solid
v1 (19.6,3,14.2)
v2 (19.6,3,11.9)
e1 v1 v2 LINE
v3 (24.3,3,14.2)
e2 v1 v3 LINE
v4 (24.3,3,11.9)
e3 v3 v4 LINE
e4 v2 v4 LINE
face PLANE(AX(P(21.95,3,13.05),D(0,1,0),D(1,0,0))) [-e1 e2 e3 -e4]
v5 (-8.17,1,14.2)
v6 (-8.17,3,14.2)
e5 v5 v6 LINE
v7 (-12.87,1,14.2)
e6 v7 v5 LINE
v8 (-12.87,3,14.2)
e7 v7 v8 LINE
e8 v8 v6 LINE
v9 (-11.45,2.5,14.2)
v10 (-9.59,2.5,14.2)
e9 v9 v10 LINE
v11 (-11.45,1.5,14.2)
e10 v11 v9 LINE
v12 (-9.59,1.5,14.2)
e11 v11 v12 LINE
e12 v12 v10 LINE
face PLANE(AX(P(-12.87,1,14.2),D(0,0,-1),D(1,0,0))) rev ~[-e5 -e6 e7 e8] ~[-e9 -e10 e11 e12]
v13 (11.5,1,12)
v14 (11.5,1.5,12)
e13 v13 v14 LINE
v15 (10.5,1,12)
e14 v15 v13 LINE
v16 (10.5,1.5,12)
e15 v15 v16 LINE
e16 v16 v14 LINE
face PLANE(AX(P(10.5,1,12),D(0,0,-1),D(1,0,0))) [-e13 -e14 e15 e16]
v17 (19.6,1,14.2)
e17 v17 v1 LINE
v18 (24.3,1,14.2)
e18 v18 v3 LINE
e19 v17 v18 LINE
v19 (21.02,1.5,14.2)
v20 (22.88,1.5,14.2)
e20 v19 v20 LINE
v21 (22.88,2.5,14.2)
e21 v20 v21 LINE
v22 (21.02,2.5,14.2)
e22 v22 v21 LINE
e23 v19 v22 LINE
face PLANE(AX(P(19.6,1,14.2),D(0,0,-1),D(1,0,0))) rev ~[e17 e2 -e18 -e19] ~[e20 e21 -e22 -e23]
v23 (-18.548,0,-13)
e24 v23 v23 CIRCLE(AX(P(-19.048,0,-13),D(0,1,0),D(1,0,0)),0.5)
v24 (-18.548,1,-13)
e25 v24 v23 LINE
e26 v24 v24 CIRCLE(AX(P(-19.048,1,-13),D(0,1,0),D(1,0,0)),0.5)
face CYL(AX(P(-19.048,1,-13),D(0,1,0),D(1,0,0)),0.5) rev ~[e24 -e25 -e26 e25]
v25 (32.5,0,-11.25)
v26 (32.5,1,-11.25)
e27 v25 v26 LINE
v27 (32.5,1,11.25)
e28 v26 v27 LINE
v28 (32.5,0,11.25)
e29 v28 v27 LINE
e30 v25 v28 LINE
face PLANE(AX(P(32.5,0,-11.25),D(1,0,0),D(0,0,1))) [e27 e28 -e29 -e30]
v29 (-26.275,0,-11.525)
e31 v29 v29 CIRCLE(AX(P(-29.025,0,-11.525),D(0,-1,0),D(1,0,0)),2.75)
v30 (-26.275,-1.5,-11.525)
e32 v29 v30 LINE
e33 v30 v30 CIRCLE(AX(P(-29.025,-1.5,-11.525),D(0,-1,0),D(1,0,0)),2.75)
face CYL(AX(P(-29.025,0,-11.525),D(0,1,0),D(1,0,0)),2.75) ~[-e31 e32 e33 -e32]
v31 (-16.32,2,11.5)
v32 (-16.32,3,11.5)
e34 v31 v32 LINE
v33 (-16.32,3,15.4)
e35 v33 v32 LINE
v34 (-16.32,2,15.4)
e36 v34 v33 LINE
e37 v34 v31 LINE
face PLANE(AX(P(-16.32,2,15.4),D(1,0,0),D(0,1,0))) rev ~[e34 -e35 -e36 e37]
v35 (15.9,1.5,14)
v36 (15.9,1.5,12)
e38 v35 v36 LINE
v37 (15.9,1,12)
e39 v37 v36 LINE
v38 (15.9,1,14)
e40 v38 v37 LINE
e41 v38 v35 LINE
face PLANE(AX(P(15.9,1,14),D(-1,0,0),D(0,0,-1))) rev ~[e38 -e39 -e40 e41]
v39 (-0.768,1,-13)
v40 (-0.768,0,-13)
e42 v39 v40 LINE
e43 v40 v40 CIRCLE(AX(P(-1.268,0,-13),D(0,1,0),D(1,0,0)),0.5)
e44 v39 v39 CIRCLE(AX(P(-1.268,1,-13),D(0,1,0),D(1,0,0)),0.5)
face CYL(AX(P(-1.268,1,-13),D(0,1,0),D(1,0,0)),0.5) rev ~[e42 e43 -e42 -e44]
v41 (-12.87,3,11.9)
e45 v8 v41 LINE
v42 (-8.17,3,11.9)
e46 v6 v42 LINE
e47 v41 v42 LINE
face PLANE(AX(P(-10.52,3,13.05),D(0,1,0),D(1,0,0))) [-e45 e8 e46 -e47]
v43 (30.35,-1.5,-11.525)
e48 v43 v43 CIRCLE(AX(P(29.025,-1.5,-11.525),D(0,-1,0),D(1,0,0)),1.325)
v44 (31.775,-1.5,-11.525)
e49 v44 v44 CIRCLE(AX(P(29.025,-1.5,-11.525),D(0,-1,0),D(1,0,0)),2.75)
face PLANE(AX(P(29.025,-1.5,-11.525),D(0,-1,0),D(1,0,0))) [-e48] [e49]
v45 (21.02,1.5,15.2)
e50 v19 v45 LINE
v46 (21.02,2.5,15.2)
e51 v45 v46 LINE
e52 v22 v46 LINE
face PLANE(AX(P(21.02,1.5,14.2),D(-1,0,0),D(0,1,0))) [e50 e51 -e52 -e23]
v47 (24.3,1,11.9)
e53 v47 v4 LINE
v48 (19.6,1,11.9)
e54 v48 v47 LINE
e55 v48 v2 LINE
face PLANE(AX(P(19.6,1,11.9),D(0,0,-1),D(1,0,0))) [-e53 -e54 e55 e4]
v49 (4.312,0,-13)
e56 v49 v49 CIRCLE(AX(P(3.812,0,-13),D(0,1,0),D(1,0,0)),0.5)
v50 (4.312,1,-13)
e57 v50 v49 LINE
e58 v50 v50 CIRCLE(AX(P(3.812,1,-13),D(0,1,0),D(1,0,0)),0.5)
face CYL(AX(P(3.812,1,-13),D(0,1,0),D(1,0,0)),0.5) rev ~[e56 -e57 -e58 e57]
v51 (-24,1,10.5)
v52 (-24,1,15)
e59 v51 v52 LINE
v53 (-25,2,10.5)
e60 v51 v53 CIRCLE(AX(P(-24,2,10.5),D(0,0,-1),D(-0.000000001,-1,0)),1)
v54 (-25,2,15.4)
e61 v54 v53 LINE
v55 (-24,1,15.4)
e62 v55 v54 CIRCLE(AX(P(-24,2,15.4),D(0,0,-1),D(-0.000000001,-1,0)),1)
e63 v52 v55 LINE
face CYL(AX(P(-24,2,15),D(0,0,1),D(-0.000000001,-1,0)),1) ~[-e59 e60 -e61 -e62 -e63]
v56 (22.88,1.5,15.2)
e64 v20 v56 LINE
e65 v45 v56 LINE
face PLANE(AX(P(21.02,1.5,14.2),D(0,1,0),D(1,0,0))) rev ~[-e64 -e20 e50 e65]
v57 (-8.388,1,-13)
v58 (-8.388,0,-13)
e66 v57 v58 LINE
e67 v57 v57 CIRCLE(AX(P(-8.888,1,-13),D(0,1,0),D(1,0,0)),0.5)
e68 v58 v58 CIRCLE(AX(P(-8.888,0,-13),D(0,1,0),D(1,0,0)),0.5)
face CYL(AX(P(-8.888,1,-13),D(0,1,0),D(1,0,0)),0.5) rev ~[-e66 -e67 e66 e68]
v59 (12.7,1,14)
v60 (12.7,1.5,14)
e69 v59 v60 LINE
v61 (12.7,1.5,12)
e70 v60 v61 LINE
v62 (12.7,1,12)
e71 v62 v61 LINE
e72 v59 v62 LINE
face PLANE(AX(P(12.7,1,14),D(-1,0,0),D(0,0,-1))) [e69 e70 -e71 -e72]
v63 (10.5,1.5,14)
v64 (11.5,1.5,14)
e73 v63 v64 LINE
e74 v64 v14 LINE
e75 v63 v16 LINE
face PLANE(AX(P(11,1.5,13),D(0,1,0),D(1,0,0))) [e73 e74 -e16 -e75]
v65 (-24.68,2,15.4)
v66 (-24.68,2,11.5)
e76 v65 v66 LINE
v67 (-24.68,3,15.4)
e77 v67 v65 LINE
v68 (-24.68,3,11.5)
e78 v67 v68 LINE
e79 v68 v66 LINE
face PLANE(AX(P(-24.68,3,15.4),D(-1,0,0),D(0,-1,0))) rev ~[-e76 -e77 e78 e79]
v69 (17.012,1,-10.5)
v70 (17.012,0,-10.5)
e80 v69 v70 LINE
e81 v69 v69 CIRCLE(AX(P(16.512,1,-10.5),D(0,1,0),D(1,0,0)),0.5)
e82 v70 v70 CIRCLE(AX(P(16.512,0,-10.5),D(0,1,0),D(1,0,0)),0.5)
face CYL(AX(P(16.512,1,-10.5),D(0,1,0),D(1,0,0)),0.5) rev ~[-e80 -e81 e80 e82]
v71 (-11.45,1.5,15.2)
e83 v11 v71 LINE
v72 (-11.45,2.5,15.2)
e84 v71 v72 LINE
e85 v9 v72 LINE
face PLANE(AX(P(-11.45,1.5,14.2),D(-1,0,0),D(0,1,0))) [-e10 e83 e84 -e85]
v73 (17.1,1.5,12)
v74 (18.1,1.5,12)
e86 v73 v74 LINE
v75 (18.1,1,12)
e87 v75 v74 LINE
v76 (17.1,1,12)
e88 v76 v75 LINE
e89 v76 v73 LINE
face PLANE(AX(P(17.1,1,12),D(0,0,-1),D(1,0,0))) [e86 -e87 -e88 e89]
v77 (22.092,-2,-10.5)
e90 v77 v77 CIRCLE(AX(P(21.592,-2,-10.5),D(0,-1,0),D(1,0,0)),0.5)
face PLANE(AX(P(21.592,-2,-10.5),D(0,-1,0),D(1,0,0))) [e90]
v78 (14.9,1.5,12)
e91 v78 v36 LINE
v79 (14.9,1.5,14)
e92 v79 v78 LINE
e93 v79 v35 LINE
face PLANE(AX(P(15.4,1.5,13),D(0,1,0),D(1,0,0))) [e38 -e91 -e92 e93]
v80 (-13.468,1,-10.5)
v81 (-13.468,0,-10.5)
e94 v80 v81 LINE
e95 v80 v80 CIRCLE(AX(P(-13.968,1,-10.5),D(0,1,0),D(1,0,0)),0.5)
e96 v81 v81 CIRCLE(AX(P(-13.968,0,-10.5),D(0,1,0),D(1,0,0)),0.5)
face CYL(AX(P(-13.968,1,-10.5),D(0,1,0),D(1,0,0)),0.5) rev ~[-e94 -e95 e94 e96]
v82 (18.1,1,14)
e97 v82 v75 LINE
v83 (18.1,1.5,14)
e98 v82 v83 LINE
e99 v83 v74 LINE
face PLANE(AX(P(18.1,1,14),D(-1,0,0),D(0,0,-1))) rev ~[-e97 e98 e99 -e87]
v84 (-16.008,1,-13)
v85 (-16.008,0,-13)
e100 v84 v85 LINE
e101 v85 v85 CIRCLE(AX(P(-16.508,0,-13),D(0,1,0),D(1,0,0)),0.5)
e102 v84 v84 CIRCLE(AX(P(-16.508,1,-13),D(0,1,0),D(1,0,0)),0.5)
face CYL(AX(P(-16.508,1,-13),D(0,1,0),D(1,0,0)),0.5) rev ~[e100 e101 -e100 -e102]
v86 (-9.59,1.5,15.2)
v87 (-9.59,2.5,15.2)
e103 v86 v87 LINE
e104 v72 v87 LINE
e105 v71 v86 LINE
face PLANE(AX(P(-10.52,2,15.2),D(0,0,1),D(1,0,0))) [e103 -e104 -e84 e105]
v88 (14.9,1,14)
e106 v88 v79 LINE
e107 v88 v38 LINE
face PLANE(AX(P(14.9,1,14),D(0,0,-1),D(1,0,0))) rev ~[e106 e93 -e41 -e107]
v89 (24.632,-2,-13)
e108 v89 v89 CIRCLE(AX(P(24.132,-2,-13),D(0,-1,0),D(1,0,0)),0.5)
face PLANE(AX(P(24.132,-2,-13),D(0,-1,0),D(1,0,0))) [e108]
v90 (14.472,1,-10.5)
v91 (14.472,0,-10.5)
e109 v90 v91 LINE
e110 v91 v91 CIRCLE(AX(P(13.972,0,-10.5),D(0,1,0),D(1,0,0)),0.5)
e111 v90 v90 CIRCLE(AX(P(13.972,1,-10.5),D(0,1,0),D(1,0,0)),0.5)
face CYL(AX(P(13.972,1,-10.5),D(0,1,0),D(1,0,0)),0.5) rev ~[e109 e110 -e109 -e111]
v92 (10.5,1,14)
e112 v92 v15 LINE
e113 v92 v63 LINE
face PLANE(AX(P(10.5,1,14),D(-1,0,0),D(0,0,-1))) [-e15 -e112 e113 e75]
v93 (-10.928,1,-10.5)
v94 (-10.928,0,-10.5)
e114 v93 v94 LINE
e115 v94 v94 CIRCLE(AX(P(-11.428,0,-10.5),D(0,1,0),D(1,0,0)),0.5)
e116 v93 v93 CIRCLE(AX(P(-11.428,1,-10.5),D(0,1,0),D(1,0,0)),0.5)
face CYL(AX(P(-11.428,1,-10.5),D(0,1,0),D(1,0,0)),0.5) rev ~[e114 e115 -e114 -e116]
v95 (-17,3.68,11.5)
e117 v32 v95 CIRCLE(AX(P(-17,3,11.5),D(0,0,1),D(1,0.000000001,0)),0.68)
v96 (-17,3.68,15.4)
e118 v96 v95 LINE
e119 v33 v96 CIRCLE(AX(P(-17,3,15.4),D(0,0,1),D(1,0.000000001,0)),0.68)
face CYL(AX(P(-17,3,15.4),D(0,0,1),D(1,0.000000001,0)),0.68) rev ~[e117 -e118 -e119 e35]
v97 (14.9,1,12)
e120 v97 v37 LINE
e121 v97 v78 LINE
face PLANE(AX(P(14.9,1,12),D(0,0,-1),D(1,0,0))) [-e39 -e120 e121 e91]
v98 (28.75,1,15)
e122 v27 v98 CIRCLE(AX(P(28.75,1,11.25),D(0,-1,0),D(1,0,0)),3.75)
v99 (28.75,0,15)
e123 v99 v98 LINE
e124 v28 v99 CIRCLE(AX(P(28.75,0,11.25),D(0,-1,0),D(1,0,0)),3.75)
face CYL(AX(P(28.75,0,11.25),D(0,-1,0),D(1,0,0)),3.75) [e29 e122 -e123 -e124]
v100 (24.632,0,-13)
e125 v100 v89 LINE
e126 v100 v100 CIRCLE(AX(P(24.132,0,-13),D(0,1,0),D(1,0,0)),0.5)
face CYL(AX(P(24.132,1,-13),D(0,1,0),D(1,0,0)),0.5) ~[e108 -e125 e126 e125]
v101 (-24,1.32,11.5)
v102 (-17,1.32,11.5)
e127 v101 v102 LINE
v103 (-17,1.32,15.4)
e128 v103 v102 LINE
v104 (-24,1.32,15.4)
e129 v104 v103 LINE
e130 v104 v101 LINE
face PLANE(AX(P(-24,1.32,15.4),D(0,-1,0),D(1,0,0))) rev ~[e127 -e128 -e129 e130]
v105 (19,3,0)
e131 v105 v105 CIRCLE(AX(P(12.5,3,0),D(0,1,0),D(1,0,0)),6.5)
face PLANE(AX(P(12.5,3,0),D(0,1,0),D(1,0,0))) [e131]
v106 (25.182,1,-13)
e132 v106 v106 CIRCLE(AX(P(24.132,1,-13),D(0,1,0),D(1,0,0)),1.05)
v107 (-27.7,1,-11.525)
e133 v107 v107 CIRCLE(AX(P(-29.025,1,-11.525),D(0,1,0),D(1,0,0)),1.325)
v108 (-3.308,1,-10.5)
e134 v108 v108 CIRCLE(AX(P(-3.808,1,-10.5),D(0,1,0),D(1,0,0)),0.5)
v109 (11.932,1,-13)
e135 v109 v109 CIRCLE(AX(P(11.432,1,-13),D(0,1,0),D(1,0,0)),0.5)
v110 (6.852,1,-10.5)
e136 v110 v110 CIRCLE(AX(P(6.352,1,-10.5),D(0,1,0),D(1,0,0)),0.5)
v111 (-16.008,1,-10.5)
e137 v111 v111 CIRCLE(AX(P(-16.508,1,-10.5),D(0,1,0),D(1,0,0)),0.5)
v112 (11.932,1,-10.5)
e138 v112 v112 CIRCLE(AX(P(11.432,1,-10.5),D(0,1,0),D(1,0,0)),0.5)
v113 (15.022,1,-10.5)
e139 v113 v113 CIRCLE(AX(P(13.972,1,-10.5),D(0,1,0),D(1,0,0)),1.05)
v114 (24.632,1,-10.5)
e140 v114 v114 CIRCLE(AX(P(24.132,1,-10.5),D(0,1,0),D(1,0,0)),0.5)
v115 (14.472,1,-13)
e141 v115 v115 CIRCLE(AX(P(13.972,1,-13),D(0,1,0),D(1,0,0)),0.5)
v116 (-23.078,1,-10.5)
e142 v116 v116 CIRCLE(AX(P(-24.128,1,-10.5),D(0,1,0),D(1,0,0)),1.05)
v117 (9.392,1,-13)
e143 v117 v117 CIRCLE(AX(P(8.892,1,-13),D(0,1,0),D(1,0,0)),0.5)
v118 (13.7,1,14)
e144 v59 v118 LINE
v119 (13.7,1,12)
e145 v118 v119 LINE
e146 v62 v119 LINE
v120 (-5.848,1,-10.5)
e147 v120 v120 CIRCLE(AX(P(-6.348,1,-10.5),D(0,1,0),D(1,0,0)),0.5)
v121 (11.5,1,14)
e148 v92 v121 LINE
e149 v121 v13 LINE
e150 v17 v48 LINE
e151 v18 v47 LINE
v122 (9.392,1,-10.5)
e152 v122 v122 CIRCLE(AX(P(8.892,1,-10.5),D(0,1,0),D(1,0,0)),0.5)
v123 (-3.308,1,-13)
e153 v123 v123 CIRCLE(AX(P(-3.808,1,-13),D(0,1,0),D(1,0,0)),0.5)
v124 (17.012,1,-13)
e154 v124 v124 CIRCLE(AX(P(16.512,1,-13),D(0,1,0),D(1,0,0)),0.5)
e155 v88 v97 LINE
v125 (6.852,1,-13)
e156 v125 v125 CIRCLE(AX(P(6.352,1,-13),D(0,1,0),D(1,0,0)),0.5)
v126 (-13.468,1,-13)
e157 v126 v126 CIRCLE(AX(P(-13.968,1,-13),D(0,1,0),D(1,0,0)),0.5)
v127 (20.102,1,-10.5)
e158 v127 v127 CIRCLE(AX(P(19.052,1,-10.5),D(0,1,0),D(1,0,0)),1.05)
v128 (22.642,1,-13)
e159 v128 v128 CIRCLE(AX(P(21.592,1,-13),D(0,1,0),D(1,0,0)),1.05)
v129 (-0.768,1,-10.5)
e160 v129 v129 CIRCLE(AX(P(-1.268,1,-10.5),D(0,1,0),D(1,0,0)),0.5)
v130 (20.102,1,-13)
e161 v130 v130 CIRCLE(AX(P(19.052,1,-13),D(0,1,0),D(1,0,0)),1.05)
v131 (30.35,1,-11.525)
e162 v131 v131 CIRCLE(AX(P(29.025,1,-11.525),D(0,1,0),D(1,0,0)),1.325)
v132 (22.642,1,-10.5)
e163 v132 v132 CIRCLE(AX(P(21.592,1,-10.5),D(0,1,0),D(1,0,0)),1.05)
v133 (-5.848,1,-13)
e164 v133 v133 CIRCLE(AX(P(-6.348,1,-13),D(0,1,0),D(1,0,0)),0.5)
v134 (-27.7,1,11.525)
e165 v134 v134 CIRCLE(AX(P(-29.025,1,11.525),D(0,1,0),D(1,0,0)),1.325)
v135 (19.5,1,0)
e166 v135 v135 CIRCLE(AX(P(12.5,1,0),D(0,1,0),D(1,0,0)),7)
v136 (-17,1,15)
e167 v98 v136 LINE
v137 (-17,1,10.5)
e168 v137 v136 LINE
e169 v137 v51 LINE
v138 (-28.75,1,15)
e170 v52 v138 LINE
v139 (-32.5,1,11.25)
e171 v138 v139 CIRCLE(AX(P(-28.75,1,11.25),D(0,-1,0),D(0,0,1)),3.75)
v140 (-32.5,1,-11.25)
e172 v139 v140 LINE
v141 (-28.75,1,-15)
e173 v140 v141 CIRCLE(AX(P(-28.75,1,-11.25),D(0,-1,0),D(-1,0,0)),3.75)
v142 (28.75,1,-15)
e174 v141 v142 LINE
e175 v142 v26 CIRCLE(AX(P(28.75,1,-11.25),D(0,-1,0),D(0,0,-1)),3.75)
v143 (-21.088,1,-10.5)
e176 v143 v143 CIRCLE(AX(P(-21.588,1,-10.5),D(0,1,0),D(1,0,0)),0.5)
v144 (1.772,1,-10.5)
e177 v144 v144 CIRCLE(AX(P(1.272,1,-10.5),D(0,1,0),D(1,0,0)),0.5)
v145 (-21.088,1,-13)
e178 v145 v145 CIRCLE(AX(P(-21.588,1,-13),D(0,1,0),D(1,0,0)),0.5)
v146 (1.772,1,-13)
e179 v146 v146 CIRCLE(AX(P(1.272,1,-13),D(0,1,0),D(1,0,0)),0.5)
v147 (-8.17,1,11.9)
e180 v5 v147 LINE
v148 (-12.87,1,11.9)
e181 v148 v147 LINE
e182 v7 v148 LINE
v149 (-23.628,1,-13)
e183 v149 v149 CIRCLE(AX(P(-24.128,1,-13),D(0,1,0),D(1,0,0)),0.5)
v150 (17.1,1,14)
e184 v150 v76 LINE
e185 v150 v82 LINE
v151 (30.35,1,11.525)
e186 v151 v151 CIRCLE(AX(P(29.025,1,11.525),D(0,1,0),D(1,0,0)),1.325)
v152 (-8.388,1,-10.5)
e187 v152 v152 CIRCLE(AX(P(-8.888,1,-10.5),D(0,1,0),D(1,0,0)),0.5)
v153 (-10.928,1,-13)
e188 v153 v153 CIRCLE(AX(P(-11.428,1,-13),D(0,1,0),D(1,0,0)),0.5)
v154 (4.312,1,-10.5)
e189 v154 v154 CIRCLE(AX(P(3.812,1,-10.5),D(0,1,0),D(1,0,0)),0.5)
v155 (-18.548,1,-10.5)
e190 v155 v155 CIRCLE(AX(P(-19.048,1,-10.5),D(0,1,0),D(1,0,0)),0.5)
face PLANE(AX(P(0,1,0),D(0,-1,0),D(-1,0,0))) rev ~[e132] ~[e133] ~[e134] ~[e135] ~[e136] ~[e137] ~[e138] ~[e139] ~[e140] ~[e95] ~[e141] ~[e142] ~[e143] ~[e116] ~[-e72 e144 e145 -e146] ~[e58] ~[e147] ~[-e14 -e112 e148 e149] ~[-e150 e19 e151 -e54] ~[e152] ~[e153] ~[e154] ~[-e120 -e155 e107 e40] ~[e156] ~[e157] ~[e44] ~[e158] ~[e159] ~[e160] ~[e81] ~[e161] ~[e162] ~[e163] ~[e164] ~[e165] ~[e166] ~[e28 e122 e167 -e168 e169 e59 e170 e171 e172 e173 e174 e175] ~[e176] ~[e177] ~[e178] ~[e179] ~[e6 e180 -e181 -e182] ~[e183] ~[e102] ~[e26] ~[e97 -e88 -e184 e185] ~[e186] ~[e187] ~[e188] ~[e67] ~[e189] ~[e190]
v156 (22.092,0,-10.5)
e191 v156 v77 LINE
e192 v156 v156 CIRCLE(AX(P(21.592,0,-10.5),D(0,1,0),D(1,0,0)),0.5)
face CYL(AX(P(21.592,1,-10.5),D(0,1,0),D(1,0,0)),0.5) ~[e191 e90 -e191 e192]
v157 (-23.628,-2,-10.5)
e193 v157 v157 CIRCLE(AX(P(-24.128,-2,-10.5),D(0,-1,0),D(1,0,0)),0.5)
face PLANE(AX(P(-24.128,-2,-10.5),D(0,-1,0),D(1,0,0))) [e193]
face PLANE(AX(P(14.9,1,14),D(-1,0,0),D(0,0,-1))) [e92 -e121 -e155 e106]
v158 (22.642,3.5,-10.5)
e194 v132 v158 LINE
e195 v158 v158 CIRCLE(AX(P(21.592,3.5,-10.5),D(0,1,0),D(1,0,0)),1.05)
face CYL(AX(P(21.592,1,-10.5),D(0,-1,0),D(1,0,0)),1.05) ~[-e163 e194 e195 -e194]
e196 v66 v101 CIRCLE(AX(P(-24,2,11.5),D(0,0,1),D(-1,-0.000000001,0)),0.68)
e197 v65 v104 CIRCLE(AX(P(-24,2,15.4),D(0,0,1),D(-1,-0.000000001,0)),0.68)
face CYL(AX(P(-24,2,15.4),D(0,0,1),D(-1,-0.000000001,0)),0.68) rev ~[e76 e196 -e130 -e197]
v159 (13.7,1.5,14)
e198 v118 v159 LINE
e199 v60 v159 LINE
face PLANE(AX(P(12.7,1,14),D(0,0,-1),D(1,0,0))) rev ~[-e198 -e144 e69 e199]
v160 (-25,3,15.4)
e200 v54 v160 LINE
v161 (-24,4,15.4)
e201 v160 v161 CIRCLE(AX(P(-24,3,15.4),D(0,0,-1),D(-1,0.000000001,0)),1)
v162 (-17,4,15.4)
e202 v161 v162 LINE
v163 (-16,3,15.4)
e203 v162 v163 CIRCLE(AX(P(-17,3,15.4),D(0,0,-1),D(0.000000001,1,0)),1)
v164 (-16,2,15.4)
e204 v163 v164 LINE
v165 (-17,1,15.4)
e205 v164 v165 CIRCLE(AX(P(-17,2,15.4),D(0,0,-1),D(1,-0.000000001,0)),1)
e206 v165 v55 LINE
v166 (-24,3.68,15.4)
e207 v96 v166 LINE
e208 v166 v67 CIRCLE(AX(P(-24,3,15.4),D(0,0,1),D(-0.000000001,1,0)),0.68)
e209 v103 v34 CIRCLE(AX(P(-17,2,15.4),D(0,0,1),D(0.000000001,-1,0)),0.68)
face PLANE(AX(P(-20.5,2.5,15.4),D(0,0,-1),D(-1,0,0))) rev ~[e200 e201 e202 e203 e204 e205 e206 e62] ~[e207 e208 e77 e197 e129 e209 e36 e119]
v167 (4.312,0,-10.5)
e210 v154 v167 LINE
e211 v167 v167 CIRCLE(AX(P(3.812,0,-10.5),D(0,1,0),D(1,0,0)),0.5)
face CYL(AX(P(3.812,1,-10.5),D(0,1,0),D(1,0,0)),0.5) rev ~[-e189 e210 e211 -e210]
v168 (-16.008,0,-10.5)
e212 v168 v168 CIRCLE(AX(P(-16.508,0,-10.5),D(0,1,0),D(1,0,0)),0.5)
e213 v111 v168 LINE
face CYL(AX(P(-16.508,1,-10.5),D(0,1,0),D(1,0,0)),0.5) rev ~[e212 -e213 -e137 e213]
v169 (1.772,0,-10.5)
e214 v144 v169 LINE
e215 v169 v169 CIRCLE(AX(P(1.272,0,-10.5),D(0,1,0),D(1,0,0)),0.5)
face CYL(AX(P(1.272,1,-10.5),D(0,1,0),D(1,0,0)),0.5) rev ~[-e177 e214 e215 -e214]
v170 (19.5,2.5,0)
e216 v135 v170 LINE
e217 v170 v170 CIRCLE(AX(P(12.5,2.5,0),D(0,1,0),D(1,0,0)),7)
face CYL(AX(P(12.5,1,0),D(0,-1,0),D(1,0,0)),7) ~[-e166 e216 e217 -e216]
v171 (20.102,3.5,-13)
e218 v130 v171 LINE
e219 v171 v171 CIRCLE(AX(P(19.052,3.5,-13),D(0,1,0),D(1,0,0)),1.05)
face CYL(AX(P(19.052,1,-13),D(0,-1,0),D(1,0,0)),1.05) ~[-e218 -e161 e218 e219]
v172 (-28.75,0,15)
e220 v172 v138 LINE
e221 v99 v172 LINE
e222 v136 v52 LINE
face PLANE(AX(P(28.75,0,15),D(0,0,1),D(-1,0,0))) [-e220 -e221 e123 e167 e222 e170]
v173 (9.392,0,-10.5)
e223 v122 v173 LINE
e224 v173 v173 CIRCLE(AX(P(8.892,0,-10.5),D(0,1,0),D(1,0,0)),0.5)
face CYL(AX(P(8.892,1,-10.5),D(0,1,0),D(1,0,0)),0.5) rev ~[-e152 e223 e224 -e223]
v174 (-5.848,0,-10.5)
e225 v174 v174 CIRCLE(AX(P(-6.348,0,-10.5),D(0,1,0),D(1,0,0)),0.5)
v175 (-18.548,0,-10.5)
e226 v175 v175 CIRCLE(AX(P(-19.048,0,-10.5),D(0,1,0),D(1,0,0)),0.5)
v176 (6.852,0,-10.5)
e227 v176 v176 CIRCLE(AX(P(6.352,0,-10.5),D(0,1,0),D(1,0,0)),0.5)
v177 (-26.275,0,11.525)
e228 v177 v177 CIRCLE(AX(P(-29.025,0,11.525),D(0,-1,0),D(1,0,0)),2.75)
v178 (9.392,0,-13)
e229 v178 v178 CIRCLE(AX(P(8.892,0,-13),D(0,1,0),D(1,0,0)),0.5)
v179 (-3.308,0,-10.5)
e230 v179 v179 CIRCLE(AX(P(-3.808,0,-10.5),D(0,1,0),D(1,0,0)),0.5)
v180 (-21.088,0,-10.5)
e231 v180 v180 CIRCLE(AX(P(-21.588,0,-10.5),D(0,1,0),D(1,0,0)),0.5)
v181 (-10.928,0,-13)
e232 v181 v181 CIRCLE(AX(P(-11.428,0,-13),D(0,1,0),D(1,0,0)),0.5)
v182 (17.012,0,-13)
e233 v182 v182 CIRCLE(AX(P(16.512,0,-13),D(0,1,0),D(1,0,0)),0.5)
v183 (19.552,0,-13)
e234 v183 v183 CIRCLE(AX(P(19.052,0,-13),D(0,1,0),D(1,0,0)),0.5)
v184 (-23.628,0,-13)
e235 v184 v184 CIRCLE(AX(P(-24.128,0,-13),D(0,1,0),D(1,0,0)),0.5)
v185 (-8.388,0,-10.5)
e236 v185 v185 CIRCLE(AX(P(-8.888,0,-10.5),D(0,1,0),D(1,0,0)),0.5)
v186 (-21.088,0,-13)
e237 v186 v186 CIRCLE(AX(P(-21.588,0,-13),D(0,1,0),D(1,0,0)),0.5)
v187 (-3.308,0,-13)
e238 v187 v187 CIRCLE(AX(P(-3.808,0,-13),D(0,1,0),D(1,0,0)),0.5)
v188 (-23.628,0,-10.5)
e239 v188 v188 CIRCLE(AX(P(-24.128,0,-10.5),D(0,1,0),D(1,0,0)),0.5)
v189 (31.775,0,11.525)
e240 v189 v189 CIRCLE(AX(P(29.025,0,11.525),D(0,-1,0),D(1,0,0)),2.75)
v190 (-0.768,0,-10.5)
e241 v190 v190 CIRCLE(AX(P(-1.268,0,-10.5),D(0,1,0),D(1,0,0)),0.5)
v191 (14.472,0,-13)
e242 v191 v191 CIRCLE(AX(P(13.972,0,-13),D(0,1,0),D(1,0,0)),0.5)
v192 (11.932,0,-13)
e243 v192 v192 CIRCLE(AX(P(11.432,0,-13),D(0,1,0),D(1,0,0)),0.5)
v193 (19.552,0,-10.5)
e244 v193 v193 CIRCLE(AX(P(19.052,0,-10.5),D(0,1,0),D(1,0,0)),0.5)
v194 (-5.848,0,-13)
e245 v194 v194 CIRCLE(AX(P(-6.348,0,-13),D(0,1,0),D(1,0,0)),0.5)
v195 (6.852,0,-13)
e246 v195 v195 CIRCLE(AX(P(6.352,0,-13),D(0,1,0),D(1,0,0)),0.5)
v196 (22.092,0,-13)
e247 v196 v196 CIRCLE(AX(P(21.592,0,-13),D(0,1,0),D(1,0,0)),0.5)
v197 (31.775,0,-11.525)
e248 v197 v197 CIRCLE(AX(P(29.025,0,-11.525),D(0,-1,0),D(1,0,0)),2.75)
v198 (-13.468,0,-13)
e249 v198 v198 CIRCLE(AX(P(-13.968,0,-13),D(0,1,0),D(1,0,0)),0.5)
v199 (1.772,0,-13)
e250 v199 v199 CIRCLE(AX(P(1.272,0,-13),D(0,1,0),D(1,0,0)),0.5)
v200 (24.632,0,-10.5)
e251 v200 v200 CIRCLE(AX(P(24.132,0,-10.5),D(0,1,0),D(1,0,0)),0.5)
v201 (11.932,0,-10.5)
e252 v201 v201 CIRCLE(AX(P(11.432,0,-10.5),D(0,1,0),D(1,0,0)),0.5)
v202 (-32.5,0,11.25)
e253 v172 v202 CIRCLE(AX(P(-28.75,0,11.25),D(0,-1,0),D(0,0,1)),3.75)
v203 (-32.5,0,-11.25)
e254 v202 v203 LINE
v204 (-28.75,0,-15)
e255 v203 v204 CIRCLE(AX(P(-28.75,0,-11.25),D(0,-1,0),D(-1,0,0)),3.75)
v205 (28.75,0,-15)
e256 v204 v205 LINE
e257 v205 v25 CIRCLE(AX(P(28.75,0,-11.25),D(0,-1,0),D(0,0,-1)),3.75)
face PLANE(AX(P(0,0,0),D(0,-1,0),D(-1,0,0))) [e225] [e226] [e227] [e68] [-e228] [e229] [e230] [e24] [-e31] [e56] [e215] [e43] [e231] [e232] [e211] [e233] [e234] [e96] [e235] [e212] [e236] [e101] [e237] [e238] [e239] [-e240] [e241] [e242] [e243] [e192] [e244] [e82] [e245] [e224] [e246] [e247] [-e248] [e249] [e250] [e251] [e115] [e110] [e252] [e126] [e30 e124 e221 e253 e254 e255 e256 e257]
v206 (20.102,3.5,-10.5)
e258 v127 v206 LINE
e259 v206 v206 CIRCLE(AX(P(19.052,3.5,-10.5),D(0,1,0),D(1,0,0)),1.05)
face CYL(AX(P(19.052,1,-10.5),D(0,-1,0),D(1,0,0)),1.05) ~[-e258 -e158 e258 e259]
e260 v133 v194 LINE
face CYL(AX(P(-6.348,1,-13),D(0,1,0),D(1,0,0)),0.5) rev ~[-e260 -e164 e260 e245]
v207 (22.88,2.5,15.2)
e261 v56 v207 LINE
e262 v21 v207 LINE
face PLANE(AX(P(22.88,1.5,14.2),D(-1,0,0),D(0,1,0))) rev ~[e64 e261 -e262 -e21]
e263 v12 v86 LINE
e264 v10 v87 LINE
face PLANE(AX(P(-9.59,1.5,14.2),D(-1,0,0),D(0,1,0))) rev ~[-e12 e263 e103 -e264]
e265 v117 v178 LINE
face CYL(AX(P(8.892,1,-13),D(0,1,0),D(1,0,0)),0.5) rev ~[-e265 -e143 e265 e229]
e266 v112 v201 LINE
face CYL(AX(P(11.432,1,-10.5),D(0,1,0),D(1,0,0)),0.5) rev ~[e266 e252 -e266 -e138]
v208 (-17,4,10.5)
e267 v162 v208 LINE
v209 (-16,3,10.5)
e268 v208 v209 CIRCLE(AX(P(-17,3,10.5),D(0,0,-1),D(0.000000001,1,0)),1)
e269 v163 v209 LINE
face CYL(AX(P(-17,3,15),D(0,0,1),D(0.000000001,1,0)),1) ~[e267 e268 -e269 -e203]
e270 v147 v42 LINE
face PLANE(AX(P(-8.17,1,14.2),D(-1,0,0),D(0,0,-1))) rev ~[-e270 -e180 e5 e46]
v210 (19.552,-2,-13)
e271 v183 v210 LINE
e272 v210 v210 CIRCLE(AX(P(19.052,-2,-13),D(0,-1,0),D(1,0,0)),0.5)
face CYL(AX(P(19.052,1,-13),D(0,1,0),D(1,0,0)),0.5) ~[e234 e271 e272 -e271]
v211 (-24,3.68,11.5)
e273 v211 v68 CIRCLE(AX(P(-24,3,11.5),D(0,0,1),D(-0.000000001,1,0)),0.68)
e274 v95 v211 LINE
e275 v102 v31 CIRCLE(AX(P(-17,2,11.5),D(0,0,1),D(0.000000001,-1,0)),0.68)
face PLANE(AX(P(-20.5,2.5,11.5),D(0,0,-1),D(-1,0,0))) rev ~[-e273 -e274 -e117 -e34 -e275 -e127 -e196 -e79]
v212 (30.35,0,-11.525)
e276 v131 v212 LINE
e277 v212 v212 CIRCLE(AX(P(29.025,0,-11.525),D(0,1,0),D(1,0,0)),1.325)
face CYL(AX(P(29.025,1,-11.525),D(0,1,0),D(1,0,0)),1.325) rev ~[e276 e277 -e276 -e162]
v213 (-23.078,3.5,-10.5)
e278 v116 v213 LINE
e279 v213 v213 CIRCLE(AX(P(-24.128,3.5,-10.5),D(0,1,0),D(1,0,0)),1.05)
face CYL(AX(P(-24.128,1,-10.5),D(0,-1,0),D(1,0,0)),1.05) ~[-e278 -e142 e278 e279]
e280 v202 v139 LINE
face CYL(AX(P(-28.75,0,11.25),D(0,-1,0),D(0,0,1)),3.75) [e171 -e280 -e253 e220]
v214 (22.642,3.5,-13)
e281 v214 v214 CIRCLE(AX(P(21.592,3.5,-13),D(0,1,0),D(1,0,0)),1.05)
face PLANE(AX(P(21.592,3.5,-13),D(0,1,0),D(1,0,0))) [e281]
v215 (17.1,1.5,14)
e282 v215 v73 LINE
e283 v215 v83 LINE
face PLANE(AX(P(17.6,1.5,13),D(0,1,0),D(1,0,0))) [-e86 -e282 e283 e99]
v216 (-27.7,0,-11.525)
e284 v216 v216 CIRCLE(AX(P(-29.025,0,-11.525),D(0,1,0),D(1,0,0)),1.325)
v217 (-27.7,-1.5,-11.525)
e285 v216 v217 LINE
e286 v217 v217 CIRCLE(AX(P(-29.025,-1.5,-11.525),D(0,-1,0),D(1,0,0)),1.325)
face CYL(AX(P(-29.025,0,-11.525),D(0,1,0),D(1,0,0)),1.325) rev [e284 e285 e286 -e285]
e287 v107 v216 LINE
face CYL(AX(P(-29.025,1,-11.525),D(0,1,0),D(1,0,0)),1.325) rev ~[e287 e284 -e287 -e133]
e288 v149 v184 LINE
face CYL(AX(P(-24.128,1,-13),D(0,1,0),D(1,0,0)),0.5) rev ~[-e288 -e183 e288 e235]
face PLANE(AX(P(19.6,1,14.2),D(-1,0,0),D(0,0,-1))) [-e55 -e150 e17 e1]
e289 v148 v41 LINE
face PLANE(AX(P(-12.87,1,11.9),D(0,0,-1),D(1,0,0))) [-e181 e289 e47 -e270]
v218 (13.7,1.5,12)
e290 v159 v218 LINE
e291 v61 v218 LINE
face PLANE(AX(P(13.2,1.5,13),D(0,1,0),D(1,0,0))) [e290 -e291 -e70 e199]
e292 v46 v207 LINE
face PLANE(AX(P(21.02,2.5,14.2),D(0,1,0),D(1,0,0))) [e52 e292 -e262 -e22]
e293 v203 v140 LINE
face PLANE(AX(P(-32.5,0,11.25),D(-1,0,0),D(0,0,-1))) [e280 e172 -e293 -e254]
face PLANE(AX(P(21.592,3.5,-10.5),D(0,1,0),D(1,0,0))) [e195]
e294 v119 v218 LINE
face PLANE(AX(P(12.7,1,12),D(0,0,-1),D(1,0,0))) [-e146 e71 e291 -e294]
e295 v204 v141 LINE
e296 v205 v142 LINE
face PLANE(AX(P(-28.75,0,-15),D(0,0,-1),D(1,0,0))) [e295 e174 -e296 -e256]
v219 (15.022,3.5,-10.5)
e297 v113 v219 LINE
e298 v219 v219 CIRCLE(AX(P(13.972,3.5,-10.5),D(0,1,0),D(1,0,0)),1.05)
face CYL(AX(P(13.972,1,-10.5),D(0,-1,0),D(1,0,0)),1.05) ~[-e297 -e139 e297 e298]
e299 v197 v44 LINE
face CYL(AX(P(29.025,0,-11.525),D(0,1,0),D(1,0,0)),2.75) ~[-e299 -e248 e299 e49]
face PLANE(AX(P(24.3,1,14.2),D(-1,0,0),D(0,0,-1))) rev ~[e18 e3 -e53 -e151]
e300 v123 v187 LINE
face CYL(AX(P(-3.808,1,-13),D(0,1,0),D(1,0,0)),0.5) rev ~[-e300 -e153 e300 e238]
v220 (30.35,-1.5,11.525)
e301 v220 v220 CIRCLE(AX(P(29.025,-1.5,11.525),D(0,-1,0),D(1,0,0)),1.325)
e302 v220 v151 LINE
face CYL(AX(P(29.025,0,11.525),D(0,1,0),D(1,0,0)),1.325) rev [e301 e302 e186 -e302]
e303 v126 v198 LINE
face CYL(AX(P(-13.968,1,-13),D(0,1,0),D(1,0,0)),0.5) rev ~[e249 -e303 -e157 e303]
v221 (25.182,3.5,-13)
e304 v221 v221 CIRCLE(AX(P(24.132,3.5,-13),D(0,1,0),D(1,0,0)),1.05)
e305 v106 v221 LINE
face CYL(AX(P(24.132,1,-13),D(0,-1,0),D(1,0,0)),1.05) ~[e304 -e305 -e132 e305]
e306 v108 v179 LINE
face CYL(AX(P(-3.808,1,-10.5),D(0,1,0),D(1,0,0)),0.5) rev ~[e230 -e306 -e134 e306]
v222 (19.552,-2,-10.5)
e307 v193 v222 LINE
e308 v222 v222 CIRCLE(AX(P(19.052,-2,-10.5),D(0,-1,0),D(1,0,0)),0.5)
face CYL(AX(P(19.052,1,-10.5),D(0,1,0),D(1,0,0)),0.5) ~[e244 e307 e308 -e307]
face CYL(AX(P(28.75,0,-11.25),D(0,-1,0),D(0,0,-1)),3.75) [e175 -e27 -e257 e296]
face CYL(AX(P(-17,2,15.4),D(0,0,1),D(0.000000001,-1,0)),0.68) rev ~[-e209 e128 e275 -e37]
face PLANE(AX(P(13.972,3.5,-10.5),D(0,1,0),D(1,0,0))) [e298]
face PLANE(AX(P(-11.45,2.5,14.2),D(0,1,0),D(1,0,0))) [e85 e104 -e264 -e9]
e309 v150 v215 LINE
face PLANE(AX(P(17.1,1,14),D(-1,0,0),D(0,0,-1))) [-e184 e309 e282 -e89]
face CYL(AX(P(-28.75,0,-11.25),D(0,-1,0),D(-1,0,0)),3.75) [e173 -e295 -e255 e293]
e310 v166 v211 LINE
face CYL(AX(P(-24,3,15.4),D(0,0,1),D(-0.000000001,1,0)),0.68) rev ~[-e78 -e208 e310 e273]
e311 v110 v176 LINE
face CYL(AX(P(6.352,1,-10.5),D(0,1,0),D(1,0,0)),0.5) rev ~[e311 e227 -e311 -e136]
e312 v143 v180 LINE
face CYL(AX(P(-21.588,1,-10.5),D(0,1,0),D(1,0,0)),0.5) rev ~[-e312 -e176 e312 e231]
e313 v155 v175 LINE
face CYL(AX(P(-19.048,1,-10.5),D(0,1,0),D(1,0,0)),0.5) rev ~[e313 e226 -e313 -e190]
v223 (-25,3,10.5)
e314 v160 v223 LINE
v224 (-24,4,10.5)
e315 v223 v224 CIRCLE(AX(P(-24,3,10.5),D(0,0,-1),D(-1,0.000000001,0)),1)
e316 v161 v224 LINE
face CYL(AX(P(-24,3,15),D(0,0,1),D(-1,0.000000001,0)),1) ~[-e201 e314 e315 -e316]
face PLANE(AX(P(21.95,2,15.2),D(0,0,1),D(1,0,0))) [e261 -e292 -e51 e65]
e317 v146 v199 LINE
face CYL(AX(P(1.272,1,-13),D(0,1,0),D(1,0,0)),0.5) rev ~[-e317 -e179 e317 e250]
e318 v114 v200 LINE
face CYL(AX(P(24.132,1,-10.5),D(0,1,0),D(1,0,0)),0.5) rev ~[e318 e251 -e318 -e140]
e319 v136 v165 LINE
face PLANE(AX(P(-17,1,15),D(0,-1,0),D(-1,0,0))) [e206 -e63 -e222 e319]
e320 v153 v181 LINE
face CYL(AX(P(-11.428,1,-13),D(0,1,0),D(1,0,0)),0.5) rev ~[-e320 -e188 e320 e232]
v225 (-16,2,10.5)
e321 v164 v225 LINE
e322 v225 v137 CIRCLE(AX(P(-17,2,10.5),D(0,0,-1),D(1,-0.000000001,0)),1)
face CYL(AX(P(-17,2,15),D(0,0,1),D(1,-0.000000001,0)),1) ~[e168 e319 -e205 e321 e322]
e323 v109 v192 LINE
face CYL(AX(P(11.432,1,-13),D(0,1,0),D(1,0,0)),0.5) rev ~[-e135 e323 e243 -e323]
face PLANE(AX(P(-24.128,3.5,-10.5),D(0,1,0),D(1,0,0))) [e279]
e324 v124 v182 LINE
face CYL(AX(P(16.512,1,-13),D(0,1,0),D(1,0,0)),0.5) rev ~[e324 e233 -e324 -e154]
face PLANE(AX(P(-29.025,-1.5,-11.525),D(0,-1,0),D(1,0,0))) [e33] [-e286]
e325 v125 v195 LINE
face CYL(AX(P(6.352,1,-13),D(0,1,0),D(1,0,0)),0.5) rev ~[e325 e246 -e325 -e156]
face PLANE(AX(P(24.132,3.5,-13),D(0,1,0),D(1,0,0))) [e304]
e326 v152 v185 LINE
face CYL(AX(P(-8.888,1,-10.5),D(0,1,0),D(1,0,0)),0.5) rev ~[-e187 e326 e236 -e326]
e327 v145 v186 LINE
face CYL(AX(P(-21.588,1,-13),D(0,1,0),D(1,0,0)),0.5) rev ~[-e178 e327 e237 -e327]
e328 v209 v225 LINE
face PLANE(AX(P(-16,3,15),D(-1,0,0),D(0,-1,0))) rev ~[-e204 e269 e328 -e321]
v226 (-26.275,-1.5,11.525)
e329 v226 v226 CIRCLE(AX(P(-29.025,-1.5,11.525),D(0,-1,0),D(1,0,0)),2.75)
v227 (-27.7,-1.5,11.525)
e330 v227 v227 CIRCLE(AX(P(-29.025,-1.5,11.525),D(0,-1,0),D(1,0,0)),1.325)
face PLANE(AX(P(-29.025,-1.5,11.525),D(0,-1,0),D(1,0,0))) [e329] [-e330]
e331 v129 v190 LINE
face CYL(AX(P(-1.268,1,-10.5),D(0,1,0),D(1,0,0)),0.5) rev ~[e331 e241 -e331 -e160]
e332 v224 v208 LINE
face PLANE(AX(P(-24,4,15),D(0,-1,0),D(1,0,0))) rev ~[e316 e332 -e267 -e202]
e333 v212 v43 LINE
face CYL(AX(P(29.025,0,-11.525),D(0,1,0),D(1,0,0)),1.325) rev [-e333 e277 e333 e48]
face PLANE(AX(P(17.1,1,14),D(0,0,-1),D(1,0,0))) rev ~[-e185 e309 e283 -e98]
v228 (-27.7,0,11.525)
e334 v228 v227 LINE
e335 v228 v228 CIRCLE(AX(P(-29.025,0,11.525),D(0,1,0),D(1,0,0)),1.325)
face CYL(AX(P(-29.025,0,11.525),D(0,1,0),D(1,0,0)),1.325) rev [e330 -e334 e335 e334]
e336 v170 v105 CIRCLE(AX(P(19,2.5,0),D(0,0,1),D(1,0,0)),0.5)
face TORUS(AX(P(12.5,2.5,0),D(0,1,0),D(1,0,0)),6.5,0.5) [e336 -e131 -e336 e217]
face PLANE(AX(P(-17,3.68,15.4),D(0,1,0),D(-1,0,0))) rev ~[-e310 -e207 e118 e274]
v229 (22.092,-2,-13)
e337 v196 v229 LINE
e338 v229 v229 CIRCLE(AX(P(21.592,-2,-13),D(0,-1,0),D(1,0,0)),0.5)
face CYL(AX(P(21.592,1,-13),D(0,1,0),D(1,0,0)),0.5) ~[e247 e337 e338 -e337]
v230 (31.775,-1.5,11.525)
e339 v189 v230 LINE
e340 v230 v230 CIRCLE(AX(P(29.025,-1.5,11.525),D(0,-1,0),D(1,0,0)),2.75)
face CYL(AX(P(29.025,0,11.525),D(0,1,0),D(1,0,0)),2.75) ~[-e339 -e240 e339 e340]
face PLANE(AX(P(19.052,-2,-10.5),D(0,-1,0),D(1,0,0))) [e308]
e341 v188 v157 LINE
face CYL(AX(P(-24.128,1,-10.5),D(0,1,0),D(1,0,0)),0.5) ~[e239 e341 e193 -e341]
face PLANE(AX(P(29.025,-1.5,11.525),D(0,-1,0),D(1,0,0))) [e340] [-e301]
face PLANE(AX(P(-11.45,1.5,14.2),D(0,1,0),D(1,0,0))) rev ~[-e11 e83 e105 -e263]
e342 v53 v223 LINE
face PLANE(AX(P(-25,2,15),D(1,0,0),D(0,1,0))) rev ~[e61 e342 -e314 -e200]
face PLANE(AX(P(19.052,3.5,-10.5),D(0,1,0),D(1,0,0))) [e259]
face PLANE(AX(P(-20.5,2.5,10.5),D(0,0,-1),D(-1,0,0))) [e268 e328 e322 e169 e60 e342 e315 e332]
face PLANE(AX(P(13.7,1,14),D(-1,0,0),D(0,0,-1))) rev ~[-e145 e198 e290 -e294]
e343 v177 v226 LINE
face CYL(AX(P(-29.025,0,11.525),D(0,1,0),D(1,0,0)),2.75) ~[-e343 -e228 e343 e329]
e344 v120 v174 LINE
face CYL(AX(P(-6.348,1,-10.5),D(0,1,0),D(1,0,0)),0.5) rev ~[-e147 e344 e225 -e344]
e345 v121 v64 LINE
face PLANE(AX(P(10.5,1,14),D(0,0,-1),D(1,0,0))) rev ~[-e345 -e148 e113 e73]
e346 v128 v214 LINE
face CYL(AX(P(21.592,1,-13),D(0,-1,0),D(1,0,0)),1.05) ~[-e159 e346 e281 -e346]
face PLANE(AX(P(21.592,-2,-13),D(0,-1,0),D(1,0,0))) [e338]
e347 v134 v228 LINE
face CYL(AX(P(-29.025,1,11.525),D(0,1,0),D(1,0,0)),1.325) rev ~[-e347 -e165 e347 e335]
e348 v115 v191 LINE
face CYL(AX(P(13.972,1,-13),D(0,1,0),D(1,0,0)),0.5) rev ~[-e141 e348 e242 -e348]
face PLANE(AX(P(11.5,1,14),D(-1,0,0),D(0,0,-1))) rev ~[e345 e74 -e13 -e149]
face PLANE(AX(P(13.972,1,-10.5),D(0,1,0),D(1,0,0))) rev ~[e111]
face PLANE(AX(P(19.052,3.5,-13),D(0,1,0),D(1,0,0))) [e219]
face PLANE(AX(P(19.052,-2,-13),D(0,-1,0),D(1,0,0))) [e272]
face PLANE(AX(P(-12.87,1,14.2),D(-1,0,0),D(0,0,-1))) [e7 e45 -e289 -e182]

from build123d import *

# Parameters (mm, degrees)
BOSS_EXTRUDE1_DEPTH      = 1
SKETCH2_R                = 1.325
CUT_EXTRUDE1_DEPTH       = 2
SKETCH3_R                = 0.5
CUT_EXTRUDE2_DEPTH       = 2
LPATTERN1_COUNT          = 20
LPATTERN1_PITCH          = 2.54
BOSS_EXTRUDE6_DEPTH      = 0.4
BOSS_EXTRUDE6_DEPTH_BACK = 4.5
CUT_EXTRUDE9_DEPTH       = 5.25
SKETCH_1_W               = 4.7
SKETCH_1_H               = 2.3
EXTRUDE_1_DEPTH          = 2
SKETCH_2_W               = 1.86
SKETCH_2_H               = 1
EXTRUDE_2_DEPTH          = 1
SKETCH_9_R               = 2.75
SKETCH_9_R_2             = 1.325
EXTRUDE_8_DEPTH          = 1.5
SKETCH_10_R              = 1.05
EXTRUDE_9_DEPTH          = 2.5
SKETCH_11_R              = 0.5
EXTRUDE_10_DEPTH         = 3
SKETCH_12_R              = 7
EXTRUDE_11_DEPTH         = 2
SKETCH_13_W              = 1
SKETCH_13_H              = 2
EXTRUDE_12_DEPTH         = 0.5
FILLET_1_R               = 0.5
EXTRUDE_13_DEPTH         = 1


with BuildPart() as part:
    # Sketch1 → Boss-Extrude1 (new body)
    with BuildSketch(Plane(origin=(0, 0, 0), x_dir=(1, 0, 0), z_dir=(0, 1, 0))):
        with BuildLine():
            Line((-28.75, 15), (28.75, 15))
            ThreePointArc((28.75, 15), (31.401650429, 13.901650429), (32.5, 11.25))
            Line((32.5, 11.25), (32.5, -11.25))
            ThreePointArc((32.5, -11.25), (31.401650429, -13.901650429), (28.75, -15))
            Line((28.75, -15), (-28.75, -15))
            ThreePointArc((-28.75, -15), (-31.401650429, -13.901650429), (-32.5, -11.25))
            Line((-32.5, -11.25), (-32.5, 11.25))
            ThreePointArc((-32.5, 11.25), (-31.401650429, 13.901650429), (-28.75, 15))
        make_face()
    extrude(amount=BOSS_EXTRUDE1_DEPTH)

    # Sketch2 → Cut-Extrude1 (cut, through all)
    with BuildSketch(Plane(origin=(0, 1, 0), x_dir=(1, 0, 0), z_dir=(0, 1, 0))):
        with Locations((-29.025, 11.525)):
            Circle(SKETCH2_R)
        with Locations((29.025, 11.525)):
            Circle(SKETCH2_R)
        with Locations((29.025, -11.525)):
            Circle(SKETCH2_R)
        with Locations((-29.025, -11.525)):
            Circle(SKETCH2_R)
    extrude(amount=-CUT_EXTRUDE1_DEPTH, mode=Mode.SUBTRACT)

    # Sketch3 → Cut-Extrude2 (cut, through all)
    with BuildSketch(Plane(origin=(0, 1, 0), x_dir=(1, 0, 0), z_dir=(0, 1, 0))):
        with Locations((-24.128, 13)):
            Circle(SKETCH3_R)
        with Locations((-24.128, 10.5)):
            Circle(SKETCH3_R)
    cut_extrude2 = extrude(amount=-CUT_EXTRUDE2_DEPTH, mode=Mode.SUBTRACT)

    # LPattern1: Cut-Extrude2 ×20
    with Locations(*[(i * LPATTERN1_PITCH, 0, 0) for i in range(1, LPATTERN1_COUNT)]):
        add(cut_extrude2, mode=Mode.SUBTRACT)

    # Sketch15 → Boss-Extrude6 (add, two sides)
    with BuildSketch(Plane.XY.offset(15)) as boss_extrude6_sk:
        with BuildLine():
            Line((-24, 4), (-17, 4))
            ThreePointArc((-17, 4), (-16.292893219, 3.707106781), (-16, 3))
            Line((-16, 3), (-16, 2))
            ThreePointArc((-16, 2), (-16.292893219, 1.292893219), (-17, 1))
            Line((-17, 1), (-24, 1))
            ThreePointArc((-24, 1), (-24.707106781, 1.292893219), (-25, 2))
            Line((-25, 2), (-25, 3))
            ThreePointArc((-25, 3), (-24.707106781, 3.707106781), (-24, 4))
        make_face()
    extrude(amount=BOSS_EXTRUDE6_DEPTH)
    extrude(boss_extrude6_sk.sketch, amount=-BOSS_EXTRUDE6_DEPTH_BACK)

    # Sketch16 → Cut-Extrude9 (cut)
    with BuildSketch(Plane.XY.offset(15.4)):
        with BuildLine():
            Line((-17, 3.68), (-24, 3.68))
            ThreePointArc((-24, 3.68), (-24.480832611, 3.480832611), (-24.68, 3))
            Line((-24.68, 3), (-24.68, 2))
            ThreePointArc((-24.68, 2), (-24.480832611, 1.519167389), (-24, 1.32))
            Line((-24, 1.32), (-17, 1.32))
            ThreePointArc((-17, 1.32), (-16.519167389, 1.519167389), (-16.32, 2))
            Line((-16.32, 2), (-16.32, 3))
            ThreePointArc((-16.32, 3), (-16.519167389, 3.480832611), (-17, 3.68))
        make_face()
    extrude(amount=-CUT_EXTRUDE9_DEPTH, mode=Mode.SUBTRACT)

    # 草图1 → 凸台-拉伸1 (add)
    with BuildSketch(Plane(origin=(0, 1, 0), x_dir=(1, 0, 0), z_dir=(0, 1, 0))):
        with Locations((-10.52, -13.05)):
            Rectangle(SKETCH_1_W, SKETCH_1_H)
        with Locations((21.95, -13.05)):
            Rectangle(SKETCH_1_W, SKETCH_1_H)
    extrude(amount=EXTRUDE_1_DEPTH)

    # 草图2 → 凸台-拉伸2 (add)
    with BuildSketch(Plane.XY.offset(14.2)):
        with Locations((-10.52, 2)):
            Rectangle(SKETCH_2_W, SKETCH_2_H)
        with Locations((21.95, 2)):
            Rectangle(SKETCH_2_W, SKETCH_2_H)
    extrude(amount=EXTRUDE_2_DEPTH)

    # 草图9 → 凸台-拉伸8 (add)
    with BuildSketch(Plane.XZ):
        with Locations((29.025, 11.525)):
            Circle(SKETCH_9_R)
        with Locations((29.025, 11.525)):
            Circle(SKETCH_9_R_2, mode=Mode.SUBTRACT)
        with Locations((29.025, -11.525)):
            Circle(SKETCH_9_R)
        with Locations((29.025, -11.525)):
            Circle(SKETCH_9_R_2, mode=Mode.SUBTRACT)
        with Locations((-29.025, 11.525)):
            Circle(SKETCH_9_R)
        with Locations((-29.025, 11.525)):
            Circle(SKETCH_9_R_2, mode=Mode.SUBTRACT)
        with Locations((-29.025, -11.525)):
            Circle(SKETCH_9_R)
        with Locations((-29.025, -11.525)):
            Circle(SKETCH_9_R_2, mode=Mode.SUBTRACT)
    extrude(amount=EXTRUDE_8_DEPTH)

    # 草图10 → 凸台-拉伸9 (add)
    with BuildSketch(Plane(origin=(0, 1, 0), x_dir=(1, 0, 0), z_dir=(0, 1, 0))):
        with Locations((24.132, 13)):
            Circle(SKETCH_10_R)
        with Locations((21.592, 13)):
            Circle(SKETCH_10_R)
        with Locations((19.052, 13)):
            Circle(SKETCH_10_R)
        with Locations((21.592, 10.5)):
            Circle(SKETCH_10_R)
        with Locations((19.052, 10.5)):
            Circle(SKETCH_10_R)
        with Locations((-24.128, 10.5)):
            Circle(SKETCH_10_R)
        with Locations((13.972, 10.5)):
            Circle(SKETCH_10_R)
    extrude(amount=EXTRUDE_9_DEPTH)

    # 草图11 → 凸台-拉伸10 (add)
    with BuildSketch(Plane.XZ.offset(-1)):
        with Locations((24.132, -13)):
            Circle(SKETCH_11_R)
        with Locations((21.592, -13)):
            Circle(SKETCH_11_R)
        with Locations((21.592, -10.5)):
            Circle(SKETCH_11_R)
        with Locations((19.052, -10.5)):
            Circle(SKETCH_11_R)
        with Locations((19.052, -13)):
            Circle(SKETCH_11_R)
        with Locations((-24.128, -10.5)):
            Circle(SKETCH_11_R)
    extrude(amount=EXTRUDE_10_DEPTH)

    # 草图12 → 凸台-拉伸11 (add)
    with BuildSketch(Plane(origin=(0, 1, 0), x_dir=(1, 0, 0), z_dir=(0, 1, 0))):
        with Locations((12.5, 0)):
            Circle(SKETCH_12_R)
    extrude(amount=EXTRUDE_11_DEPTH)

    # 草图13 → 凸台-拉伸12 (add)
    with BuildSketch(Plane(origin=(0, 1, 0), x_dir=(1, 0, 0), z_dir=(0, 1, 0))):
        with Locations((17.6, -13)):
            Rectangle(SKETCH_13_W, SKETCH_13_H)
        with Locations((15.4, -13)):
            Rectangle(SKETCH_13_W, SKETCH_13_H)
        with Locations((13.2, -13)):
            Rectangle(SKETCH_13_W, SKETCH_13_H)
        with Locations((11, -13)):
            Rectangle(SKETCH_13_W, SKETCH_13_H)
    extrude(amount=EXTRUDE_12_DEPTH)

    # 圆角1
    fillet_1_edges = [part.edges().sort_by_distance(p)[0] for p in [
        (5.5, 3, 0),
    ]]
    fillet(fillet_1_edges, radius=FILLET_1_R)

    # 草图14 → 凸台-拉伸13 (add)
    with BuildSketch(Plane(origin=(0, 0, 10.5), x_dir=(-1, 0, 0), z_dir=(0, 0, -1))):
        with BuildLine():
            Line((16, 3), (16, 2))
            ThreePointArc((16, 2), (16.292893219, 1.292893219), (17, 1))
            Line((17, 1), (24, 1))
            ThreePointArc((24, 1), (24.707106781, 1.292893219), (25, 2))
            Line((25, 2), (25, 3))
            ThreePointArc((25, 3), (24.707106781, 3.707106781), (24, 4))
            Line((24, 4), (17, 4))
            ThreePointArc((17, 4), (16.292893219, 3.707106781), (16, 3))
        make_face()
    extrude(amount=-EXTRUDE_13_DEPTH)


solid = part.part
